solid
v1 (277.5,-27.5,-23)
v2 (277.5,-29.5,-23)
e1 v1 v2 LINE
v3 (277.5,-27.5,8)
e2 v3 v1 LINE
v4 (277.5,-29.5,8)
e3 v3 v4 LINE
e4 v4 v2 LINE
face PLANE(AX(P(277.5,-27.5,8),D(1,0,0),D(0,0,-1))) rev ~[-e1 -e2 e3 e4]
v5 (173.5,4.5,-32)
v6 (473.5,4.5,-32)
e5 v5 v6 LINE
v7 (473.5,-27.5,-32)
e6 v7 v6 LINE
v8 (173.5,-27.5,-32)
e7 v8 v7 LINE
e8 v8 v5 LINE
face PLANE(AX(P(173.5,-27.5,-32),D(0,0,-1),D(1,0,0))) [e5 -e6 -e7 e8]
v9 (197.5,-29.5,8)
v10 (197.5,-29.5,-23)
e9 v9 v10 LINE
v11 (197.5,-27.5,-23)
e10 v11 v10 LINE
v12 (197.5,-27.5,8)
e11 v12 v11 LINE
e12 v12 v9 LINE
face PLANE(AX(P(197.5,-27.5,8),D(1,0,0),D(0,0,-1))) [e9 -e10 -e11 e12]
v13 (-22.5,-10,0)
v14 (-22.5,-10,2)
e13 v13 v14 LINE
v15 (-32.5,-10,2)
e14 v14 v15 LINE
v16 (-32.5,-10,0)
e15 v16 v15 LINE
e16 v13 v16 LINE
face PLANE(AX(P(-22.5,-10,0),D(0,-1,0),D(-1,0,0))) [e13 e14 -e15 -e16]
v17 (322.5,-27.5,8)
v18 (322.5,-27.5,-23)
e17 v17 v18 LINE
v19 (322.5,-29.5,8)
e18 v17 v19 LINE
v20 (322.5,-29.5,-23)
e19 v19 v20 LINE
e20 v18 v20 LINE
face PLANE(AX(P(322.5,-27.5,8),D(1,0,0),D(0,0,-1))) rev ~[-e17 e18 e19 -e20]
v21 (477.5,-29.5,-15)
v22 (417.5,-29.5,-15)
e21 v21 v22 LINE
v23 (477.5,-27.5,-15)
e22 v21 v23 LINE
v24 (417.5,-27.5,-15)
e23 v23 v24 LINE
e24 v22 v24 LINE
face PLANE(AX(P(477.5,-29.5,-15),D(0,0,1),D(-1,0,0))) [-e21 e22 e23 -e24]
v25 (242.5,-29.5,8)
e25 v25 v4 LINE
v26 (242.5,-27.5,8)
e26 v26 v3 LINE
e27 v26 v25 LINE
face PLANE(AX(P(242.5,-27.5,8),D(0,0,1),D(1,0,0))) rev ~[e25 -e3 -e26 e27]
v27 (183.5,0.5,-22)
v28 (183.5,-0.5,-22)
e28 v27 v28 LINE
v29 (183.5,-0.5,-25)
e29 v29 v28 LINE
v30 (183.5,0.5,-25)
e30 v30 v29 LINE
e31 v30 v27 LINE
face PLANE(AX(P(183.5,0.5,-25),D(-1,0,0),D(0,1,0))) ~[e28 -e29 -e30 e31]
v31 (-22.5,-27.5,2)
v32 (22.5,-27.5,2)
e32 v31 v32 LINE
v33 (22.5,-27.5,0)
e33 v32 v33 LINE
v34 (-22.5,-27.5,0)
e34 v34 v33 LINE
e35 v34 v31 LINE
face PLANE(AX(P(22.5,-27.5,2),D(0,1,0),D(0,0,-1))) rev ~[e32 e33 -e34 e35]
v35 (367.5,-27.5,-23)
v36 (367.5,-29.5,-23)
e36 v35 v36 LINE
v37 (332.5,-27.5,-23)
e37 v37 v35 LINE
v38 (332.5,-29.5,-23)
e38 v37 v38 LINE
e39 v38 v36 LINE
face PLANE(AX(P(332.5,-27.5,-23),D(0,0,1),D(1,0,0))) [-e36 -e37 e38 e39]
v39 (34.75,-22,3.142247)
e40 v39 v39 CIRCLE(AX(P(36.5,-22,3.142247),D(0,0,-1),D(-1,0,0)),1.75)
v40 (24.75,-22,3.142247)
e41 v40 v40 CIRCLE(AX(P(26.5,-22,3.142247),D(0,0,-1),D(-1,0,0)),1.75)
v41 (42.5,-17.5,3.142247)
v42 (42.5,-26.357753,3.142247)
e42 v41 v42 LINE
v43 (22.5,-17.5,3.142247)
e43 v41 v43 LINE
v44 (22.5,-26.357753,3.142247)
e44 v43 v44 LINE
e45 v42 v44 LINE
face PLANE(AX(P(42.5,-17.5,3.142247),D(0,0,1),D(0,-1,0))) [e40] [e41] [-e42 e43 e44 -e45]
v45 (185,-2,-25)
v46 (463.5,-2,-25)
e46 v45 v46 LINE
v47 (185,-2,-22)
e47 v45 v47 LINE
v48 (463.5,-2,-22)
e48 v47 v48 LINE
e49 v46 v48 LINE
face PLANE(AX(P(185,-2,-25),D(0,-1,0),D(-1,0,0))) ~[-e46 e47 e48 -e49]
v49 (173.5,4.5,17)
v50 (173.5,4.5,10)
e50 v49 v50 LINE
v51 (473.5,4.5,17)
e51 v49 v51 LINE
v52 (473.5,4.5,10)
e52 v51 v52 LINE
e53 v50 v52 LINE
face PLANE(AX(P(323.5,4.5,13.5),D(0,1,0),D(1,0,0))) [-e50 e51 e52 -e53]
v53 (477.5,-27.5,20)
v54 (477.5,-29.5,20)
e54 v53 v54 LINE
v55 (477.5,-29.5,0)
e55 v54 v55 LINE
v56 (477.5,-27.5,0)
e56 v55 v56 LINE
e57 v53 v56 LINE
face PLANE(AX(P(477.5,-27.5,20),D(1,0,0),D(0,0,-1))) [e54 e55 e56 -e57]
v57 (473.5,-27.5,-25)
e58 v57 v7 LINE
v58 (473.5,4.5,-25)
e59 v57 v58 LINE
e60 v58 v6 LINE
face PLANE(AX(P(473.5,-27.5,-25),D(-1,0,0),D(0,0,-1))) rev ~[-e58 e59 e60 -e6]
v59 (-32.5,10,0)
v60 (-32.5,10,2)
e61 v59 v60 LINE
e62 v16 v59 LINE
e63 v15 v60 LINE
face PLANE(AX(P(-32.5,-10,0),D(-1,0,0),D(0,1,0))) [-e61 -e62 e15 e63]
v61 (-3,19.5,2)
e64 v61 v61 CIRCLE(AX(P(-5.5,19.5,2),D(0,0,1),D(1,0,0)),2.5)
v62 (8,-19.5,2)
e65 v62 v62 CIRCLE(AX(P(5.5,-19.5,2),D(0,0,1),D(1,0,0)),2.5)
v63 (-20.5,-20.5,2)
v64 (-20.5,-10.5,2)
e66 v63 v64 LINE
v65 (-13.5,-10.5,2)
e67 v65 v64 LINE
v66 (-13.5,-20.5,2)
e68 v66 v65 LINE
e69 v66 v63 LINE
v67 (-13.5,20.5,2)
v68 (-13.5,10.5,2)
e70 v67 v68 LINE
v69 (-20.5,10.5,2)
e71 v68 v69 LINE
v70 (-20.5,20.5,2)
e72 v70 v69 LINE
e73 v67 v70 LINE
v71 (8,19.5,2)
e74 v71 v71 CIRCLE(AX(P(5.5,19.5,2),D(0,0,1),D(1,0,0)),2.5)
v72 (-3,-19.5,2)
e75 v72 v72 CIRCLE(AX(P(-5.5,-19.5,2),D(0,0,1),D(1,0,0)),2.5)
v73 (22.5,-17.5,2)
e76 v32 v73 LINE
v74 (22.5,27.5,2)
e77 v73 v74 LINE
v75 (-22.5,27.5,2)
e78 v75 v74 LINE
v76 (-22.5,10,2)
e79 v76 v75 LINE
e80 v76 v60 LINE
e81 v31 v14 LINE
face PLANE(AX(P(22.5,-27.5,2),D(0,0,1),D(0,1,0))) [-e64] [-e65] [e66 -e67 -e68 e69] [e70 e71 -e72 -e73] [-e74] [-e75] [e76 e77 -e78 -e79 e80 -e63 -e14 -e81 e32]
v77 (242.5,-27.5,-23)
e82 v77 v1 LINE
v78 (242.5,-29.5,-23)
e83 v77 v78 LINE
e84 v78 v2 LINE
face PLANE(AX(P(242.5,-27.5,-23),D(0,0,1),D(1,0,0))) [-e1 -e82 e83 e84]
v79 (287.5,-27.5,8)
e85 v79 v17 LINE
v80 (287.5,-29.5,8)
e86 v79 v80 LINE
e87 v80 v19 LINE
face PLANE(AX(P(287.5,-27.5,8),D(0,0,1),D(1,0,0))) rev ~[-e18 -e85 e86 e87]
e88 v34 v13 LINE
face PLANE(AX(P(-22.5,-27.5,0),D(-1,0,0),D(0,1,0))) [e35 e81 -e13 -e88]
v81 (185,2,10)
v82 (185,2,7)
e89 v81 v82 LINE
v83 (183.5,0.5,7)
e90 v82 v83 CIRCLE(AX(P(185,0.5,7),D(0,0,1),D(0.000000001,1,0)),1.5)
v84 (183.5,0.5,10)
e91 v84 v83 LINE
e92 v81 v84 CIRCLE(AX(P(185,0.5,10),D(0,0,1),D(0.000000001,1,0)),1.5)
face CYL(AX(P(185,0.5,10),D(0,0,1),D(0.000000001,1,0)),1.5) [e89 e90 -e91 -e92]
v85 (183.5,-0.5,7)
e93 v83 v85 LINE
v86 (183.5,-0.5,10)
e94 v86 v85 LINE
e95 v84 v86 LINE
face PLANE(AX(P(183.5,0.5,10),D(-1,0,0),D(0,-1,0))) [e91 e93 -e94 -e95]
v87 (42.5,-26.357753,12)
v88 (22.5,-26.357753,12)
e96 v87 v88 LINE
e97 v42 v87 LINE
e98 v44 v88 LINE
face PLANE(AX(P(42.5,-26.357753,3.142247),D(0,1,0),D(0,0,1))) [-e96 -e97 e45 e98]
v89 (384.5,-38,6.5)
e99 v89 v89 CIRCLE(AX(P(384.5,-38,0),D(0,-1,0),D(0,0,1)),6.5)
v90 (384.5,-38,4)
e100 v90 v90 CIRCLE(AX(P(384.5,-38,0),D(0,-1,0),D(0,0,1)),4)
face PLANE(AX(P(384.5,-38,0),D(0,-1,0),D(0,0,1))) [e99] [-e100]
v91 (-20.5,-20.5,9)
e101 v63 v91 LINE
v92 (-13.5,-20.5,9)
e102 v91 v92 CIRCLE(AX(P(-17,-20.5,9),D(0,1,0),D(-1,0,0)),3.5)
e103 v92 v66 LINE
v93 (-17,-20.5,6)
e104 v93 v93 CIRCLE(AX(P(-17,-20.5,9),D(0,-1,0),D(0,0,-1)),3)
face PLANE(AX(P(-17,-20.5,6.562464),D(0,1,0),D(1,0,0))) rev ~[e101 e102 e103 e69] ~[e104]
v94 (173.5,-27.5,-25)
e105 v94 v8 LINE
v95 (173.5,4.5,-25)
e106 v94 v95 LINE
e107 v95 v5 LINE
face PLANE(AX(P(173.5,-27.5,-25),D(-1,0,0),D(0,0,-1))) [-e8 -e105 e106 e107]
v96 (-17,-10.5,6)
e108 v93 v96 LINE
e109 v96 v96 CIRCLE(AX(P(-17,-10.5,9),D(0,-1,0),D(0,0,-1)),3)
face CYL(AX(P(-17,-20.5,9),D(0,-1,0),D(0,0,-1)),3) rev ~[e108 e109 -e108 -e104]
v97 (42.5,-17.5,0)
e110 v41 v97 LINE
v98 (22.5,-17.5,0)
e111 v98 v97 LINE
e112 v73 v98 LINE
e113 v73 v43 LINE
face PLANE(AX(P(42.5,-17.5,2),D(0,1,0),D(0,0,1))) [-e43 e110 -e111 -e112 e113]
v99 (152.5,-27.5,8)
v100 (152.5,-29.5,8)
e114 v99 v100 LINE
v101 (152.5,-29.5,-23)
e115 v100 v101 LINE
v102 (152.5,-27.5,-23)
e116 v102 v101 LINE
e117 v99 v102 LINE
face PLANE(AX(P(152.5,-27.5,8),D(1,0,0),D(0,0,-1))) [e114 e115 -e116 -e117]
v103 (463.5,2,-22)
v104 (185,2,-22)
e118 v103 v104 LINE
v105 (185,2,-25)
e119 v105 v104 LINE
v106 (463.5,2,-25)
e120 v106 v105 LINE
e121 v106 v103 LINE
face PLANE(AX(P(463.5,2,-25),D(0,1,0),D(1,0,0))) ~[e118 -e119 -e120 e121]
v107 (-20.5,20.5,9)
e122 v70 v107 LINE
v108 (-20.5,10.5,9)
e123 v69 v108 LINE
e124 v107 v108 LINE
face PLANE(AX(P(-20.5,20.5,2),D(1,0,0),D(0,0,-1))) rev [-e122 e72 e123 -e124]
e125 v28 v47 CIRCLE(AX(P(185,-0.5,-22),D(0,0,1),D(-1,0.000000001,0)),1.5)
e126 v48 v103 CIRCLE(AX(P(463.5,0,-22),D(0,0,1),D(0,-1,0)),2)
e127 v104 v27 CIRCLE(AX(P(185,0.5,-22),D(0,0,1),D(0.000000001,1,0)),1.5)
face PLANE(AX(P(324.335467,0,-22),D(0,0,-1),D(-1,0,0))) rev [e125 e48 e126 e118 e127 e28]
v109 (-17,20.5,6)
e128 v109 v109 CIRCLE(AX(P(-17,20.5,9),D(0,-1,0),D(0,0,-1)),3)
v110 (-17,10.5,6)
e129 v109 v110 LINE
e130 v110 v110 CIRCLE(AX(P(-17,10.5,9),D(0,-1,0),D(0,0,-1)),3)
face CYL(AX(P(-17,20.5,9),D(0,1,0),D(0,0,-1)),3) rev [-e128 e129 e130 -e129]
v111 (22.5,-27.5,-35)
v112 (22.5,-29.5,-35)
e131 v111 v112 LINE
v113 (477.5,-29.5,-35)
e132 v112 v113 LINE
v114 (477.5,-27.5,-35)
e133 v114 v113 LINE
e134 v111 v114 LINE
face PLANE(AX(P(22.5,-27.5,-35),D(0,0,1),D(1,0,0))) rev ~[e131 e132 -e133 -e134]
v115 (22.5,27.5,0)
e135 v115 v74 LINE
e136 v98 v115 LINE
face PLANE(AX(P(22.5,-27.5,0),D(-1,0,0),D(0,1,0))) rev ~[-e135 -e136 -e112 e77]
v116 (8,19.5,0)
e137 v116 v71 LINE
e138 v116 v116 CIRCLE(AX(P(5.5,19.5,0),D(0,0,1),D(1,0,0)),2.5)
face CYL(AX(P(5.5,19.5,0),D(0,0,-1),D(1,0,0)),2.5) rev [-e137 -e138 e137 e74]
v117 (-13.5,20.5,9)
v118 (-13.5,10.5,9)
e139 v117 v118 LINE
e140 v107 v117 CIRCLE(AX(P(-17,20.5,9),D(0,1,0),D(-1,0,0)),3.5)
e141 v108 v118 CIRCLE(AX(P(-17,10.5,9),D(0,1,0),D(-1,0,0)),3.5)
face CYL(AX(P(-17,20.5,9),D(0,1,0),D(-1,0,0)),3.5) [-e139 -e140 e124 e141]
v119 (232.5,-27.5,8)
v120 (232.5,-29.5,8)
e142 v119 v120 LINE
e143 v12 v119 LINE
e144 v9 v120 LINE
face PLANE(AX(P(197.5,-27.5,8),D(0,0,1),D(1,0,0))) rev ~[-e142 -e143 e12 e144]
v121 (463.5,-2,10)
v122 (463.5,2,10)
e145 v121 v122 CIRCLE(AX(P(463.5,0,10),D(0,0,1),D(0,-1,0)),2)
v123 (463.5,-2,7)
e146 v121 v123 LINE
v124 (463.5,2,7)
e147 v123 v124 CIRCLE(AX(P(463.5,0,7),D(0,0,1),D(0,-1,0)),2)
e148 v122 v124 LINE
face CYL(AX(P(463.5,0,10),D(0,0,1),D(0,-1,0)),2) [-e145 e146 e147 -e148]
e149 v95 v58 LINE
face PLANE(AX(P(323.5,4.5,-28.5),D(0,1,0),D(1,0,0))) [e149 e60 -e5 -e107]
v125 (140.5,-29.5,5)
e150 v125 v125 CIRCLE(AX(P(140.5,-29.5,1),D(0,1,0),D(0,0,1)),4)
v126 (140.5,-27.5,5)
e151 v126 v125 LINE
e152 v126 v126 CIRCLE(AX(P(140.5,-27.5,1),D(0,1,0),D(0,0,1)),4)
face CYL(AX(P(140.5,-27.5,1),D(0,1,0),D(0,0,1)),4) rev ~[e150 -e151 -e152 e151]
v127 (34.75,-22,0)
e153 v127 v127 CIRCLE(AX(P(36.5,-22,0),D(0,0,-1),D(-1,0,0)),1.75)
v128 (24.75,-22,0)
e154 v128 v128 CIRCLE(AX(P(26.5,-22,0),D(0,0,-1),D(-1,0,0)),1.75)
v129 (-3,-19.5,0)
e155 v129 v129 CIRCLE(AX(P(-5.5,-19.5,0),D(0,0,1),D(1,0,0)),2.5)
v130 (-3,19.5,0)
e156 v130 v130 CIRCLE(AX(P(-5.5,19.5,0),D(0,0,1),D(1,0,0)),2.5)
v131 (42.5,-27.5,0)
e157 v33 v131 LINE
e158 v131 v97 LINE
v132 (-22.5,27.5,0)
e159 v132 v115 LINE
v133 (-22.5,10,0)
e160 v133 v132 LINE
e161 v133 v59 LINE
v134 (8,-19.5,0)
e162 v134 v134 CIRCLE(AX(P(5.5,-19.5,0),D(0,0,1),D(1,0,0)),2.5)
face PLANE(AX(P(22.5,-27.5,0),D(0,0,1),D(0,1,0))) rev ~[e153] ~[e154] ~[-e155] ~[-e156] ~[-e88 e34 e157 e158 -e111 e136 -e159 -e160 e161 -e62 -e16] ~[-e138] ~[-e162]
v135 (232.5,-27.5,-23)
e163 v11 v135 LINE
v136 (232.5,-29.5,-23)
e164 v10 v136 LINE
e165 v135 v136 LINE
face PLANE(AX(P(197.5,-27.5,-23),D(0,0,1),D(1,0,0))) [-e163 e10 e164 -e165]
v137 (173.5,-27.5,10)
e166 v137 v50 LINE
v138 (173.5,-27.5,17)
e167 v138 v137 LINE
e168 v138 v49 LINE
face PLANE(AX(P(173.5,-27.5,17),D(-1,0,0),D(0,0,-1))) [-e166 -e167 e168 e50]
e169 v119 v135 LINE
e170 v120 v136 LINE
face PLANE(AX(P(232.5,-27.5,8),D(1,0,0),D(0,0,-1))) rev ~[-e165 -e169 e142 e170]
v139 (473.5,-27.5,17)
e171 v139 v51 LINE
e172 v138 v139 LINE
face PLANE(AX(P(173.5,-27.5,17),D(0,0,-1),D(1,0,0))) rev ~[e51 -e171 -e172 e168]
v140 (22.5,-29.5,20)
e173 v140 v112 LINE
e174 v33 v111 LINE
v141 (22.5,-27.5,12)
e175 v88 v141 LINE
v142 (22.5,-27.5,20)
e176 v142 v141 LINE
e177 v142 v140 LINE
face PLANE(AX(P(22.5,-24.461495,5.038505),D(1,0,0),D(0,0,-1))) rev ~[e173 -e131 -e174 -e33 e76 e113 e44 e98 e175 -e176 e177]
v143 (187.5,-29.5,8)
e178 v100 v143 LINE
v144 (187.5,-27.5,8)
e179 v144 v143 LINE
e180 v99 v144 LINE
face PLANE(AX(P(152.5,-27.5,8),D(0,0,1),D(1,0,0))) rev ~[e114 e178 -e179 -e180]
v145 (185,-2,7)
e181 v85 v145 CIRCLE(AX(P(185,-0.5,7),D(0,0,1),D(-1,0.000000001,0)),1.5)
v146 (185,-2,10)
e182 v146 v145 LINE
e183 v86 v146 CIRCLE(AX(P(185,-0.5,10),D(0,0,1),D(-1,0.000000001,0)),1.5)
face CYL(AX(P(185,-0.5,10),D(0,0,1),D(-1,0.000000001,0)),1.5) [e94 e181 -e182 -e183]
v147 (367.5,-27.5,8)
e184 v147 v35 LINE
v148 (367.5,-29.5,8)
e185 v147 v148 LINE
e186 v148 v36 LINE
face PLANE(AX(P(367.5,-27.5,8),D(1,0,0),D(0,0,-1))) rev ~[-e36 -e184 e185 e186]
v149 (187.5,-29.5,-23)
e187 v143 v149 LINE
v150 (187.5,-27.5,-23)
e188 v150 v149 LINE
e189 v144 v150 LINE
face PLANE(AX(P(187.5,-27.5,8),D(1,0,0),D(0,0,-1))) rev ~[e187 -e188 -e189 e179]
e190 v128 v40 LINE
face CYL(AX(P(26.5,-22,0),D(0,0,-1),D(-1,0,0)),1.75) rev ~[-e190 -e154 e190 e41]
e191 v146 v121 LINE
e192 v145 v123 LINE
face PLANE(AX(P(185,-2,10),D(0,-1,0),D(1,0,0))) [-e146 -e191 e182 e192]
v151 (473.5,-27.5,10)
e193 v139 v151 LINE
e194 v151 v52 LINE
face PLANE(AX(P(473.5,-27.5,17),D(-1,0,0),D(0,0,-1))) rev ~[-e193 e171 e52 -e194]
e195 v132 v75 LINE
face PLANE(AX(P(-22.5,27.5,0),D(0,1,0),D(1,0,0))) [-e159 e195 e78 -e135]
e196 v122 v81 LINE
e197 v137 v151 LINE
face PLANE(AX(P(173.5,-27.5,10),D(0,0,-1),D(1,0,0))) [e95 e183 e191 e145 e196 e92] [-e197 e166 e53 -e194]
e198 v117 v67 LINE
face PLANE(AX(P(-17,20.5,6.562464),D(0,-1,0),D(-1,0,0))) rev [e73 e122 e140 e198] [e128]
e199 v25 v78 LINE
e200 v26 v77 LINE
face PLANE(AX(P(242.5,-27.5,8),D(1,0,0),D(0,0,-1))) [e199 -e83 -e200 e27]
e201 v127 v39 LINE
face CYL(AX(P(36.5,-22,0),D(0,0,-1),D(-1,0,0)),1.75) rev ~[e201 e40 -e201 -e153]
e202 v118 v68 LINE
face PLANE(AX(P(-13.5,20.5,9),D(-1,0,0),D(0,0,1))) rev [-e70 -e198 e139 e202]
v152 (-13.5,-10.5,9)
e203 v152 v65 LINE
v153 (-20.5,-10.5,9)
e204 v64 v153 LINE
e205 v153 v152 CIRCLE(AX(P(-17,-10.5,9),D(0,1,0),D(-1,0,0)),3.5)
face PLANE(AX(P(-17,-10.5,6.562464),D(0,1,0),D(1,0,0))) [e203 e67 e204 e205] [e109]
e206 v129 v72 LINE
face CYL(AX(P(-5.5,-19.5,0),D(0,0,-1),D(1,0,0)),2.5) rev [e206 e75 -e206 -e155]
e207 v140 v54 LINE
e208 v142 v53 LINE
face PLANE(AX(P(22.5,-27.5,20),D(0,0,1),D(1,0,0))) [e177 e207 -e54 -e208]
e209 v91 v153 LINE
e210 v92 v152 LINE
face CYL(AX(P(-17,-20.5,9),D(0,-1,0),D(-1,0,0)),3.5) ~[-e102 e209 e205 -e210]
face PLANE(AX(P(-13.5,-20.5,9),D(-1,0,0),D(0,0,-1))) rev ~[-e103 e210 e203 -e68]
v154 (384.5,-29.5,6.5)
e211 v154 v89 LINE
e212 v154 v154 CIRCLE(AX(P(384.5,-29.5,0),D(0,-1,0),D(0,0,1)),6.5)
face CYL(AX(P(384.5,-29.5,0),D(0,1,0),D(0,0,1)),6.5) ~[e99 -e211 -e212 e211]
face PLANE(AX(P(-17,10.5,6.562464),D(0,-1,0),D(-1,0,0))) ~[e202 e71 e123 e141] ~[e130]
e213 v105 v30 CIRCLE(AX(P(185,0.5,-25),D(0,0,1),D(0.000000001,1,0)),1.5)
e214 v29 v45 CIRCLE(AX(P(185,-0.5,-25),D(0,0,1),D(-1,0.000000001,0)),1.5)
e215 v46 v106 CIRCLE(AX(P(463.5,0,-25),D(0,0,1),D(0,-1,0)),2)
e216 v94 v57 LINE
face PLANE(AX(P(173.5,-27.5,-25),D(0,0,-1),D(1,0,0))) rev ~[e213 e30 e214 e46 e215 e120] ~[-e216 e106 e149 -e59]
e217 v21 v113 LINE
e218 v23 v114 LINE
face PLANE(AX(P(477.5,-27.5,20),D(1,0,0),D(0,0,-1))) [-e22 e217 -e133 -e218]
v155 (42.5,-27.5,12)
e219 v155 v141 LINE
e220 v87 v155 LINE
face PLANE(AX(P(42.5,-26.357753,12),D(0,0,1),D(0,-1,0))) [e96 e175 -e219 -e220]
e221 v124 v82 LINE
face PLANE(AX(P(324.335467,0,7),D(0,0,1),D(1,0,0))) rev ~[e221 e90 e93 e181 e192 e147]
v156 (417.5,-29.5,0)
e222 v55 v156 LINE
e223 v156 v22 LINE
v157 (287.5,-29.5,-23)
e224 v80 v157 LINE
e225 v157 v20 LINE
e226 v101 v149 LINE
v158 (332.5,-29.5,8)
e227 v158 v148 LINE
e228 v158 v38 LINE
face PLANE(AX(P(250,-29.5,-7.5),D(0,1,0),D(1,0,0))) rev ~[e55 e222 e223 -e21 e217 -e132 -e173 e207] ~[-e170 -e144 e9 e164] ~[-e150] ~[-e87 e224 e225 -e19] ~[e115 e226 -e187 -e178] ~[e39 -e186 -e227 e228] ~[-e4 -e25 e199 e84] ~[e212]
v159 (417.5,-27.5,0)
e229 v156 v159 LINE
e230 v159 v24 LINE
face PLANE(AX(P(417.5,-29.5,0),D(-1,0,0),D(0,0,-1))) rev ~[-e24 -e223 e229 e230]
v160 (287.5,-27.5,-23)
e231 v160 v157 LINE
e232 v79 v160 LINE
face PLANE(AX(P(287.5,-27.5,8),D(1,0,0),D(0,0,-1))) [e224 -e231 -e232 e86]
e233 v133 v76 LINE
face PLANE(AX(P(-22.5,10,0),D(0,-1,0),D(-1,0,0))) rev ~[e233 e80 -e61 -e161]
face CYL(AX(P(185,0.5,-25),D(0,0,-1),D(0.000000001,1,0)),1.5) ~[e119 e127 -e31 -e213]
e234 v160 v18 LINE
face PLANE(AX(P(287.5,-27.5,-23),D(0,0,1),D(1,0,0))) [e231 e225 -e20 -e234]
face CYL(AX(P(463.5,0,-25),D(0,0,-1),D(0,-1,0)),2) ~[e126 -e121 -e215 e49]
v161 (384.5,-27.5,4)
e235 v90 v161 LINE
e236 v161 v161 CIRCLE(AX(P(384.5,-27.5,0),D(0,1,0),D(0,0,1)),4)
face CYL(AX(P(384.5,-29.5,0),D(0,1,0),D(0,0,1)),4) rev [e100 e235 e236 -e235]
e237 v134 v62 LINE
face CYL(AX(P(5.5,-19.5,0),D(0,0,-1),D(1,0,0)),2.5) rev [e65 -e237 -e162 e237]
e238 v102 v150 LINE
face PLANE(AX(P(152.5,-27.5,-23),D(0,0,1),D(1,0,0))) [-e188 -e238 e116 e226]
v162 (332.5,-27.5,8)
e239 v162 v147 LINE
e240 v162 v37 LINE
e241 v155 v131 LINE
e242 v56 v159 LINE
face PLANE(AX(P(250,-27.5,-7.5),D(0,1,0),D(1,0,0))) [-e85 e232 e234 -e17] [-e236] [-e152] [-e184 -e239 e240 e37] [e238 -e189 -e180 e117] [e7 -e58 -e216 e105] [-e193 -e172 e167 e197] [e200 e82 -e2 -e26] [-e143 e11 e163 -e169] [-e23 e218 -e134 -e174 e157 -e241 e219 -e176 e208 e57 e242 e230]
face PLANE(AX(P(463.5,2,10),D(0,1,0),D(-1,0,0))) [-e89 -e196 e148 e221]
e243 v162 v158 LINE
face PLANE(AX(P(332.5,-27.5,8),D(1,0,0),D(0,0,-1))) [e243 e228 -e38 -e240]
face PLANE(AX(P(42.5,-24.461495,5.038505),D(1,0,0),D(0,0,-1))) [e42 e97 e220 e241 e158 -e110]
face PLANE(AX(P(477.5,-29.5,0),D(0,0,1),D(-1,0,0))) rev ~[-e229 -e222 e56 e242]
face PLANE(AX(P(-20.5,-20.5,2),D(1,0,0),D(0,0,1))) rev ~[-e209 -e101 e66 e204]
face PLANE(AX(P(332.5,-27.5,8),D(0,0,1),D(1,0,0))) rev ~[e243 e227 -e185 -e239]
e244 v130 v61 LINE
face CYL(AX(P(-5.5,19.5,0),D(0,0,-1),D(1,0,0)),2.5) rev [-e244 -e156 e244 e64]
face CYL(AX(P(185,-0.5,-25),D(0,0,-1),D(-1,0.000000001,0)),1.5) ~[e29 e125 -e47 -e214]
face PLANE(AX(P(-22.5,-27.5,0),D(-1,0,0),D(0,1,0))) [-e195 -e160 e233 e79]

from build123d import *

# Parameters (mm, degrees)
CROQUIS1_W               = 45
CROQUIS1_H               = 55
CROQUIS1_R               = 2.5
SALIENTE_EXTRUIR1_DEPTH  = 2
CROQUIS2_W               = 10
CROQUIS2_H               = 20
SALIENTE_EXTRUIR2_DEPTH  = 2
CROQUIS4_R               = 3
SALIENTE_EXTRUIR4_DEPTH  = 10
CROQUIS6_W               = 2
CROQUIS6_H               = 10
SALIENTE_EXTRUIR6_DEPTH  = 20
CROQUIS7_W               = 455
CROQUIS7_H               = 55
SALIENTE_EXTRUIR7_DEPTH  = 2
CROQUIS8_W               = 60
CROQUIS8_H               = 15
CORTAR_EXTRUIR1_DEPTH    = 2
SALIENTE_EXTRUIR8_DEPTH  = 20
CROQUIS10_R              = 1.75
CORTAR_EXTRUIR2_DEPTH    = 480.688961724
CROQUIS11_W              = 300
CROQUIS11_H              = 7
SALIENTE_EXTRUIR9_DEPTH  = 32
SALIENTE_EXTRUIR10_DEPTH = 3
CROQUIS17_R              = 4
CORTAR_EXTRUIR4_DEPTH    = 10
CROQUIS18_W              = 35
CROQUIS18_H              = 31
CORTAR_EXTRUIR5_DEPTH    = 10
CROQUIS19_R              = 4
CORTAR_EXTRUIR6_DEPTH    = 10
CROQUIS22_R              = 6.5
CROQUIS22_R_2            = 4
SALIENTE_EXTRUIR11_DEPTH = 8.5


with BuildPart() as part:
    # Croquis1 → Saliente-Extruir1 (new body)
    with BuildSketch(Plane.XY):
        Rectangle(CROQUIS1_W, CROQUIS1_H)
        with Locations((5.5, 19.5)):
            Circle(CROQUIS1_R, mode=Mode.SUBTRACT)
        with Locations((-5.5, 19.5)):
            Circle(CROQUIS1_R, mode=Mode.SUBTRACT)
        with Locations((-5.5, -19.5)):
            Circle(CROQUIS1_R, mode=Mode.SUBTRACT)
        with Locations((5.5, -19.5)):
            Circle(CROQUIS1_R, mode=Mode.SUBTRACT)
    extrude(amount=SALIENTE_EXTRUIR1_DEPTH)

    # Croquis2 → Saliente-Extruir2 (add)
    with BuildSketch(Plane(origin=(0, 0, 0), x_dir=(-1, 0, 0), z_dir=(0, 0, -1))):
        with Locations((27.5, 0)):
            Rectangle(CROQUIS2_W, CROQUIS2_H)
    extrude(amount=-SALIENTE_EXTRUIR2_DEPTH)

    # Croquis4 → Saliente-Extruir4 (add)
    with BuildSketch(Plane(origin=(0, -20.5, 0), x_dir=(-1, 0, 0), z_dir=(0, -1, 0))):
        with BuildLine():
            Line((13.5, -2), (20.5, -2))
            Line((20.5, -2), (20.5, -9))
            ThreePointArc((20.5, -9), (17, -12.5), (13.5, -9))
            Line((13.5, -9), (13.5, -2))
        make_face()
        with Locations(Location((17, -9, 0), (0, 0, 90))):
            Circle(CROQUIS4_R, mode=Mode.SUBTRACT)
    saliente_extruir4 = extrude(amount=-SALIENTE_EXTRUIR4_DEPTH)

    # Simetría1: Saliente-Extruir4 across plane
    add(saliente_extruir4.mirror(Plane.ZX))

    # Croquis6 → Saliente-Extruir6 (add)
    with BuildSketch(Plane(origin=(22.5, 0, 0), x_dir=(0, 0, -1), z_dir=(1, 0, 0))):
        with Locations((-1, -22.5)):
            Rectangle(CROQUIS6_W, CROQUIS6_H)
    extrude(amount=SALIENTE_EXTRUIR6_DEPTH)

    # Croquis7 → Saliente-Extruir7 (add)
    with BuildSketch(Plane(origin=(0, -27.5, 0), x_dir=(1, 0, 0), z_dir=(0, 1, 0))):
        with Locations((250, 7.5)):
            Rectangle(CROQUIS7_W, CROQUIS7_H)
    extrude(amount=-SALIENTE_EXTRUIR7_DEPTH)

    # Croquis8 → Cortar-Extruir1 (cut)
    with BuildSketch(Plane(origin=(0, -29.5, 0), x_dir=(-1, 0, 0), z_dir=(0, -1, 0))):
        with Locations((-447.5, 7.5)):
            Rectangle(CROQUIS8_W, CROQUIS8_H)
    extrude(amount=-CORTAR_EXTRUIR1_DEPTH, mode=Mode.SUBTRACT)

    # Croquis9 → Saliente-Extruir8 (add)
    with BuildSketch(Plane(origin=(42.5, 0, 0), x_dir=(0, 0, -1), z_dir=(1, 0, 0))):
        Polygon((-2, -26.357753354), (-2, -17.5), (-3.142246646, -17.5), (-3.142246646, -26.357753354), (-12, -26.357753354), (-12, -27.5), (-2, -27.5), align=None)
    extrude(amount=-SALIENTE_EXTRUIR8_DEPTH)

    # Croquis10 → Cortar-Extruir2 (cut, through all)
    with BuildSketch(Plane(origin=(0, 0, 0), x_dir=(-1, 0, 0), z_dir=(0, 0, -1))):
        with Locations((-26.5, -22)):
            Circle(CROQUIS10_R)
        with Locations((-36.5, -22)):
            Circle(CROQUIS10_R)
    extrude(amount=-CORTAR_EXTRUIR2_DEPTH, mode=Mode.SUBTRACT)

    # Croquis11 → Saliente-Extruir9 (add)
    with BuildSketch(Plane(origin=(0, -27.5, 0), x_dir=(1, 0, 0), z_dir=(0, 1, 0))):
        with Locations((323.5, 28.5)):
            Rectangle(CROQUIS11_W, CROQUIS11_H)
        with Locations((323.5, -13.5)):
            Rectangle(CROQUIS11_W, CROQUIS11_H)
    extrude(amount=SALIENTE_EXTRUIR9_DEPTH)

    # Croquis13 → Saliente-Extruir10 (add)
    with BuildSketch(Plane(origin=(0, 0, 10), x_dir=(-1, 0, 0), z_dir=(0, 0, -1))):
        with BuildLine():
            Line((-463.5, 2), (-185, 2))
            ThreePointArc((-185, 2), (-183.939339828, 1.560660172), (-183.5, 0.5))
            Line((-183.5, 0.5), (-183.5, -0.5))
            ThreePointArc((-183.5, -0.5), (-183.939339828, -1.560660172), (-185, -2))
            Line((-185, -2), (-463.5, -2))
            ThreePointArc((-463.5, -2), (-465.5, 0), (-463.5, 2))
        make_face()
    saliente_extruir10 = extrude(amount=SALIENTE_EXTRUIR10_DEPTH)

    # Simetría2: Saliente-Extruir10 across plane
    add(saliente_extruir10.mirror(Plane(origin=(0, 0, -7.5), x_dir=(1, 0, 0), z_dir=(0, 0, -1))))

    # Croquis17 → Cortar-Extruir4 (cut)
    with BuildSketch(Plane(origin=(0, -27.5, 0), x_dir=(1, 0, 0), z_dir=(0, 1, 0))):
        with Locations(Location((140.5, -1, 0), (0, 0, 270))):
            Circle(CROQUIS17_R)
    extrude(amount=-CORTAR_EXTRUIR4_DEPTH, mode=Mode.SUBTRACT)

    # Croquis18 → Cortar-Extruir5 (cut)
    with BuildSketch(Plane(origin=(0, -27.5, 0), x_dir=(1, 0, 0), z_dir=(0, 1, 0))):
        with Locations((170, 7.5)):
            Rectangle(CROQUIS18_W, CROQUIS18_H)
        with Locations((215, 7.5)):
            Rectangle(CROQUIS18_W, CROQUIS18_H)
        with Locations((260, 7.5)):
            Rectangle(CROQUIS18_W, CROQUIS18_H)
        with Locations((305, 7.5)):
            Rectangle(CROQUIS18_W, CROQUIS18_H)
        with Locations((350, 7.5)):
            Rectangle(CROQUIS18_W, CROQUIS18_H)
    extrude(amount=-CORTAR_EXTRUIR5_DEPTH, mode=Mode.SUBTRACT)

    # Croquis19 → Cortar-Extruir6 (cut)
    with BuildSketch(Plane(origin=(0, -27.5, 0), x_dir=(1, 0, 0), z_dir=(0, 1, 0))):
        with Locations(Location((384.5, 0, 0), (0, 0, 270))):
            Circle(CROQUIS19_R)
    extrude(amount=-CORTAR_EXTRUIR6_DEPTH, mode=Mode.SUBTRACT)

    # Croquis22 → Saliente-Extruir11 (add)
    with BuildSketch(Plane.XZ.offset(29.5)):
        with Locations(Location((384.5, 0, 0), (0, 0, 90))):
            Circle(CROQUIS22_R)
        with Locations(Location((384.5, 0, 0), (0, 0, 90))):
            Circle(CROQUIS22_R_2, mode=Mode.SUBTRACT)
    extrude(amount=SALIENTE_EXTRUIR11_DEPTH)


solid = part.part
